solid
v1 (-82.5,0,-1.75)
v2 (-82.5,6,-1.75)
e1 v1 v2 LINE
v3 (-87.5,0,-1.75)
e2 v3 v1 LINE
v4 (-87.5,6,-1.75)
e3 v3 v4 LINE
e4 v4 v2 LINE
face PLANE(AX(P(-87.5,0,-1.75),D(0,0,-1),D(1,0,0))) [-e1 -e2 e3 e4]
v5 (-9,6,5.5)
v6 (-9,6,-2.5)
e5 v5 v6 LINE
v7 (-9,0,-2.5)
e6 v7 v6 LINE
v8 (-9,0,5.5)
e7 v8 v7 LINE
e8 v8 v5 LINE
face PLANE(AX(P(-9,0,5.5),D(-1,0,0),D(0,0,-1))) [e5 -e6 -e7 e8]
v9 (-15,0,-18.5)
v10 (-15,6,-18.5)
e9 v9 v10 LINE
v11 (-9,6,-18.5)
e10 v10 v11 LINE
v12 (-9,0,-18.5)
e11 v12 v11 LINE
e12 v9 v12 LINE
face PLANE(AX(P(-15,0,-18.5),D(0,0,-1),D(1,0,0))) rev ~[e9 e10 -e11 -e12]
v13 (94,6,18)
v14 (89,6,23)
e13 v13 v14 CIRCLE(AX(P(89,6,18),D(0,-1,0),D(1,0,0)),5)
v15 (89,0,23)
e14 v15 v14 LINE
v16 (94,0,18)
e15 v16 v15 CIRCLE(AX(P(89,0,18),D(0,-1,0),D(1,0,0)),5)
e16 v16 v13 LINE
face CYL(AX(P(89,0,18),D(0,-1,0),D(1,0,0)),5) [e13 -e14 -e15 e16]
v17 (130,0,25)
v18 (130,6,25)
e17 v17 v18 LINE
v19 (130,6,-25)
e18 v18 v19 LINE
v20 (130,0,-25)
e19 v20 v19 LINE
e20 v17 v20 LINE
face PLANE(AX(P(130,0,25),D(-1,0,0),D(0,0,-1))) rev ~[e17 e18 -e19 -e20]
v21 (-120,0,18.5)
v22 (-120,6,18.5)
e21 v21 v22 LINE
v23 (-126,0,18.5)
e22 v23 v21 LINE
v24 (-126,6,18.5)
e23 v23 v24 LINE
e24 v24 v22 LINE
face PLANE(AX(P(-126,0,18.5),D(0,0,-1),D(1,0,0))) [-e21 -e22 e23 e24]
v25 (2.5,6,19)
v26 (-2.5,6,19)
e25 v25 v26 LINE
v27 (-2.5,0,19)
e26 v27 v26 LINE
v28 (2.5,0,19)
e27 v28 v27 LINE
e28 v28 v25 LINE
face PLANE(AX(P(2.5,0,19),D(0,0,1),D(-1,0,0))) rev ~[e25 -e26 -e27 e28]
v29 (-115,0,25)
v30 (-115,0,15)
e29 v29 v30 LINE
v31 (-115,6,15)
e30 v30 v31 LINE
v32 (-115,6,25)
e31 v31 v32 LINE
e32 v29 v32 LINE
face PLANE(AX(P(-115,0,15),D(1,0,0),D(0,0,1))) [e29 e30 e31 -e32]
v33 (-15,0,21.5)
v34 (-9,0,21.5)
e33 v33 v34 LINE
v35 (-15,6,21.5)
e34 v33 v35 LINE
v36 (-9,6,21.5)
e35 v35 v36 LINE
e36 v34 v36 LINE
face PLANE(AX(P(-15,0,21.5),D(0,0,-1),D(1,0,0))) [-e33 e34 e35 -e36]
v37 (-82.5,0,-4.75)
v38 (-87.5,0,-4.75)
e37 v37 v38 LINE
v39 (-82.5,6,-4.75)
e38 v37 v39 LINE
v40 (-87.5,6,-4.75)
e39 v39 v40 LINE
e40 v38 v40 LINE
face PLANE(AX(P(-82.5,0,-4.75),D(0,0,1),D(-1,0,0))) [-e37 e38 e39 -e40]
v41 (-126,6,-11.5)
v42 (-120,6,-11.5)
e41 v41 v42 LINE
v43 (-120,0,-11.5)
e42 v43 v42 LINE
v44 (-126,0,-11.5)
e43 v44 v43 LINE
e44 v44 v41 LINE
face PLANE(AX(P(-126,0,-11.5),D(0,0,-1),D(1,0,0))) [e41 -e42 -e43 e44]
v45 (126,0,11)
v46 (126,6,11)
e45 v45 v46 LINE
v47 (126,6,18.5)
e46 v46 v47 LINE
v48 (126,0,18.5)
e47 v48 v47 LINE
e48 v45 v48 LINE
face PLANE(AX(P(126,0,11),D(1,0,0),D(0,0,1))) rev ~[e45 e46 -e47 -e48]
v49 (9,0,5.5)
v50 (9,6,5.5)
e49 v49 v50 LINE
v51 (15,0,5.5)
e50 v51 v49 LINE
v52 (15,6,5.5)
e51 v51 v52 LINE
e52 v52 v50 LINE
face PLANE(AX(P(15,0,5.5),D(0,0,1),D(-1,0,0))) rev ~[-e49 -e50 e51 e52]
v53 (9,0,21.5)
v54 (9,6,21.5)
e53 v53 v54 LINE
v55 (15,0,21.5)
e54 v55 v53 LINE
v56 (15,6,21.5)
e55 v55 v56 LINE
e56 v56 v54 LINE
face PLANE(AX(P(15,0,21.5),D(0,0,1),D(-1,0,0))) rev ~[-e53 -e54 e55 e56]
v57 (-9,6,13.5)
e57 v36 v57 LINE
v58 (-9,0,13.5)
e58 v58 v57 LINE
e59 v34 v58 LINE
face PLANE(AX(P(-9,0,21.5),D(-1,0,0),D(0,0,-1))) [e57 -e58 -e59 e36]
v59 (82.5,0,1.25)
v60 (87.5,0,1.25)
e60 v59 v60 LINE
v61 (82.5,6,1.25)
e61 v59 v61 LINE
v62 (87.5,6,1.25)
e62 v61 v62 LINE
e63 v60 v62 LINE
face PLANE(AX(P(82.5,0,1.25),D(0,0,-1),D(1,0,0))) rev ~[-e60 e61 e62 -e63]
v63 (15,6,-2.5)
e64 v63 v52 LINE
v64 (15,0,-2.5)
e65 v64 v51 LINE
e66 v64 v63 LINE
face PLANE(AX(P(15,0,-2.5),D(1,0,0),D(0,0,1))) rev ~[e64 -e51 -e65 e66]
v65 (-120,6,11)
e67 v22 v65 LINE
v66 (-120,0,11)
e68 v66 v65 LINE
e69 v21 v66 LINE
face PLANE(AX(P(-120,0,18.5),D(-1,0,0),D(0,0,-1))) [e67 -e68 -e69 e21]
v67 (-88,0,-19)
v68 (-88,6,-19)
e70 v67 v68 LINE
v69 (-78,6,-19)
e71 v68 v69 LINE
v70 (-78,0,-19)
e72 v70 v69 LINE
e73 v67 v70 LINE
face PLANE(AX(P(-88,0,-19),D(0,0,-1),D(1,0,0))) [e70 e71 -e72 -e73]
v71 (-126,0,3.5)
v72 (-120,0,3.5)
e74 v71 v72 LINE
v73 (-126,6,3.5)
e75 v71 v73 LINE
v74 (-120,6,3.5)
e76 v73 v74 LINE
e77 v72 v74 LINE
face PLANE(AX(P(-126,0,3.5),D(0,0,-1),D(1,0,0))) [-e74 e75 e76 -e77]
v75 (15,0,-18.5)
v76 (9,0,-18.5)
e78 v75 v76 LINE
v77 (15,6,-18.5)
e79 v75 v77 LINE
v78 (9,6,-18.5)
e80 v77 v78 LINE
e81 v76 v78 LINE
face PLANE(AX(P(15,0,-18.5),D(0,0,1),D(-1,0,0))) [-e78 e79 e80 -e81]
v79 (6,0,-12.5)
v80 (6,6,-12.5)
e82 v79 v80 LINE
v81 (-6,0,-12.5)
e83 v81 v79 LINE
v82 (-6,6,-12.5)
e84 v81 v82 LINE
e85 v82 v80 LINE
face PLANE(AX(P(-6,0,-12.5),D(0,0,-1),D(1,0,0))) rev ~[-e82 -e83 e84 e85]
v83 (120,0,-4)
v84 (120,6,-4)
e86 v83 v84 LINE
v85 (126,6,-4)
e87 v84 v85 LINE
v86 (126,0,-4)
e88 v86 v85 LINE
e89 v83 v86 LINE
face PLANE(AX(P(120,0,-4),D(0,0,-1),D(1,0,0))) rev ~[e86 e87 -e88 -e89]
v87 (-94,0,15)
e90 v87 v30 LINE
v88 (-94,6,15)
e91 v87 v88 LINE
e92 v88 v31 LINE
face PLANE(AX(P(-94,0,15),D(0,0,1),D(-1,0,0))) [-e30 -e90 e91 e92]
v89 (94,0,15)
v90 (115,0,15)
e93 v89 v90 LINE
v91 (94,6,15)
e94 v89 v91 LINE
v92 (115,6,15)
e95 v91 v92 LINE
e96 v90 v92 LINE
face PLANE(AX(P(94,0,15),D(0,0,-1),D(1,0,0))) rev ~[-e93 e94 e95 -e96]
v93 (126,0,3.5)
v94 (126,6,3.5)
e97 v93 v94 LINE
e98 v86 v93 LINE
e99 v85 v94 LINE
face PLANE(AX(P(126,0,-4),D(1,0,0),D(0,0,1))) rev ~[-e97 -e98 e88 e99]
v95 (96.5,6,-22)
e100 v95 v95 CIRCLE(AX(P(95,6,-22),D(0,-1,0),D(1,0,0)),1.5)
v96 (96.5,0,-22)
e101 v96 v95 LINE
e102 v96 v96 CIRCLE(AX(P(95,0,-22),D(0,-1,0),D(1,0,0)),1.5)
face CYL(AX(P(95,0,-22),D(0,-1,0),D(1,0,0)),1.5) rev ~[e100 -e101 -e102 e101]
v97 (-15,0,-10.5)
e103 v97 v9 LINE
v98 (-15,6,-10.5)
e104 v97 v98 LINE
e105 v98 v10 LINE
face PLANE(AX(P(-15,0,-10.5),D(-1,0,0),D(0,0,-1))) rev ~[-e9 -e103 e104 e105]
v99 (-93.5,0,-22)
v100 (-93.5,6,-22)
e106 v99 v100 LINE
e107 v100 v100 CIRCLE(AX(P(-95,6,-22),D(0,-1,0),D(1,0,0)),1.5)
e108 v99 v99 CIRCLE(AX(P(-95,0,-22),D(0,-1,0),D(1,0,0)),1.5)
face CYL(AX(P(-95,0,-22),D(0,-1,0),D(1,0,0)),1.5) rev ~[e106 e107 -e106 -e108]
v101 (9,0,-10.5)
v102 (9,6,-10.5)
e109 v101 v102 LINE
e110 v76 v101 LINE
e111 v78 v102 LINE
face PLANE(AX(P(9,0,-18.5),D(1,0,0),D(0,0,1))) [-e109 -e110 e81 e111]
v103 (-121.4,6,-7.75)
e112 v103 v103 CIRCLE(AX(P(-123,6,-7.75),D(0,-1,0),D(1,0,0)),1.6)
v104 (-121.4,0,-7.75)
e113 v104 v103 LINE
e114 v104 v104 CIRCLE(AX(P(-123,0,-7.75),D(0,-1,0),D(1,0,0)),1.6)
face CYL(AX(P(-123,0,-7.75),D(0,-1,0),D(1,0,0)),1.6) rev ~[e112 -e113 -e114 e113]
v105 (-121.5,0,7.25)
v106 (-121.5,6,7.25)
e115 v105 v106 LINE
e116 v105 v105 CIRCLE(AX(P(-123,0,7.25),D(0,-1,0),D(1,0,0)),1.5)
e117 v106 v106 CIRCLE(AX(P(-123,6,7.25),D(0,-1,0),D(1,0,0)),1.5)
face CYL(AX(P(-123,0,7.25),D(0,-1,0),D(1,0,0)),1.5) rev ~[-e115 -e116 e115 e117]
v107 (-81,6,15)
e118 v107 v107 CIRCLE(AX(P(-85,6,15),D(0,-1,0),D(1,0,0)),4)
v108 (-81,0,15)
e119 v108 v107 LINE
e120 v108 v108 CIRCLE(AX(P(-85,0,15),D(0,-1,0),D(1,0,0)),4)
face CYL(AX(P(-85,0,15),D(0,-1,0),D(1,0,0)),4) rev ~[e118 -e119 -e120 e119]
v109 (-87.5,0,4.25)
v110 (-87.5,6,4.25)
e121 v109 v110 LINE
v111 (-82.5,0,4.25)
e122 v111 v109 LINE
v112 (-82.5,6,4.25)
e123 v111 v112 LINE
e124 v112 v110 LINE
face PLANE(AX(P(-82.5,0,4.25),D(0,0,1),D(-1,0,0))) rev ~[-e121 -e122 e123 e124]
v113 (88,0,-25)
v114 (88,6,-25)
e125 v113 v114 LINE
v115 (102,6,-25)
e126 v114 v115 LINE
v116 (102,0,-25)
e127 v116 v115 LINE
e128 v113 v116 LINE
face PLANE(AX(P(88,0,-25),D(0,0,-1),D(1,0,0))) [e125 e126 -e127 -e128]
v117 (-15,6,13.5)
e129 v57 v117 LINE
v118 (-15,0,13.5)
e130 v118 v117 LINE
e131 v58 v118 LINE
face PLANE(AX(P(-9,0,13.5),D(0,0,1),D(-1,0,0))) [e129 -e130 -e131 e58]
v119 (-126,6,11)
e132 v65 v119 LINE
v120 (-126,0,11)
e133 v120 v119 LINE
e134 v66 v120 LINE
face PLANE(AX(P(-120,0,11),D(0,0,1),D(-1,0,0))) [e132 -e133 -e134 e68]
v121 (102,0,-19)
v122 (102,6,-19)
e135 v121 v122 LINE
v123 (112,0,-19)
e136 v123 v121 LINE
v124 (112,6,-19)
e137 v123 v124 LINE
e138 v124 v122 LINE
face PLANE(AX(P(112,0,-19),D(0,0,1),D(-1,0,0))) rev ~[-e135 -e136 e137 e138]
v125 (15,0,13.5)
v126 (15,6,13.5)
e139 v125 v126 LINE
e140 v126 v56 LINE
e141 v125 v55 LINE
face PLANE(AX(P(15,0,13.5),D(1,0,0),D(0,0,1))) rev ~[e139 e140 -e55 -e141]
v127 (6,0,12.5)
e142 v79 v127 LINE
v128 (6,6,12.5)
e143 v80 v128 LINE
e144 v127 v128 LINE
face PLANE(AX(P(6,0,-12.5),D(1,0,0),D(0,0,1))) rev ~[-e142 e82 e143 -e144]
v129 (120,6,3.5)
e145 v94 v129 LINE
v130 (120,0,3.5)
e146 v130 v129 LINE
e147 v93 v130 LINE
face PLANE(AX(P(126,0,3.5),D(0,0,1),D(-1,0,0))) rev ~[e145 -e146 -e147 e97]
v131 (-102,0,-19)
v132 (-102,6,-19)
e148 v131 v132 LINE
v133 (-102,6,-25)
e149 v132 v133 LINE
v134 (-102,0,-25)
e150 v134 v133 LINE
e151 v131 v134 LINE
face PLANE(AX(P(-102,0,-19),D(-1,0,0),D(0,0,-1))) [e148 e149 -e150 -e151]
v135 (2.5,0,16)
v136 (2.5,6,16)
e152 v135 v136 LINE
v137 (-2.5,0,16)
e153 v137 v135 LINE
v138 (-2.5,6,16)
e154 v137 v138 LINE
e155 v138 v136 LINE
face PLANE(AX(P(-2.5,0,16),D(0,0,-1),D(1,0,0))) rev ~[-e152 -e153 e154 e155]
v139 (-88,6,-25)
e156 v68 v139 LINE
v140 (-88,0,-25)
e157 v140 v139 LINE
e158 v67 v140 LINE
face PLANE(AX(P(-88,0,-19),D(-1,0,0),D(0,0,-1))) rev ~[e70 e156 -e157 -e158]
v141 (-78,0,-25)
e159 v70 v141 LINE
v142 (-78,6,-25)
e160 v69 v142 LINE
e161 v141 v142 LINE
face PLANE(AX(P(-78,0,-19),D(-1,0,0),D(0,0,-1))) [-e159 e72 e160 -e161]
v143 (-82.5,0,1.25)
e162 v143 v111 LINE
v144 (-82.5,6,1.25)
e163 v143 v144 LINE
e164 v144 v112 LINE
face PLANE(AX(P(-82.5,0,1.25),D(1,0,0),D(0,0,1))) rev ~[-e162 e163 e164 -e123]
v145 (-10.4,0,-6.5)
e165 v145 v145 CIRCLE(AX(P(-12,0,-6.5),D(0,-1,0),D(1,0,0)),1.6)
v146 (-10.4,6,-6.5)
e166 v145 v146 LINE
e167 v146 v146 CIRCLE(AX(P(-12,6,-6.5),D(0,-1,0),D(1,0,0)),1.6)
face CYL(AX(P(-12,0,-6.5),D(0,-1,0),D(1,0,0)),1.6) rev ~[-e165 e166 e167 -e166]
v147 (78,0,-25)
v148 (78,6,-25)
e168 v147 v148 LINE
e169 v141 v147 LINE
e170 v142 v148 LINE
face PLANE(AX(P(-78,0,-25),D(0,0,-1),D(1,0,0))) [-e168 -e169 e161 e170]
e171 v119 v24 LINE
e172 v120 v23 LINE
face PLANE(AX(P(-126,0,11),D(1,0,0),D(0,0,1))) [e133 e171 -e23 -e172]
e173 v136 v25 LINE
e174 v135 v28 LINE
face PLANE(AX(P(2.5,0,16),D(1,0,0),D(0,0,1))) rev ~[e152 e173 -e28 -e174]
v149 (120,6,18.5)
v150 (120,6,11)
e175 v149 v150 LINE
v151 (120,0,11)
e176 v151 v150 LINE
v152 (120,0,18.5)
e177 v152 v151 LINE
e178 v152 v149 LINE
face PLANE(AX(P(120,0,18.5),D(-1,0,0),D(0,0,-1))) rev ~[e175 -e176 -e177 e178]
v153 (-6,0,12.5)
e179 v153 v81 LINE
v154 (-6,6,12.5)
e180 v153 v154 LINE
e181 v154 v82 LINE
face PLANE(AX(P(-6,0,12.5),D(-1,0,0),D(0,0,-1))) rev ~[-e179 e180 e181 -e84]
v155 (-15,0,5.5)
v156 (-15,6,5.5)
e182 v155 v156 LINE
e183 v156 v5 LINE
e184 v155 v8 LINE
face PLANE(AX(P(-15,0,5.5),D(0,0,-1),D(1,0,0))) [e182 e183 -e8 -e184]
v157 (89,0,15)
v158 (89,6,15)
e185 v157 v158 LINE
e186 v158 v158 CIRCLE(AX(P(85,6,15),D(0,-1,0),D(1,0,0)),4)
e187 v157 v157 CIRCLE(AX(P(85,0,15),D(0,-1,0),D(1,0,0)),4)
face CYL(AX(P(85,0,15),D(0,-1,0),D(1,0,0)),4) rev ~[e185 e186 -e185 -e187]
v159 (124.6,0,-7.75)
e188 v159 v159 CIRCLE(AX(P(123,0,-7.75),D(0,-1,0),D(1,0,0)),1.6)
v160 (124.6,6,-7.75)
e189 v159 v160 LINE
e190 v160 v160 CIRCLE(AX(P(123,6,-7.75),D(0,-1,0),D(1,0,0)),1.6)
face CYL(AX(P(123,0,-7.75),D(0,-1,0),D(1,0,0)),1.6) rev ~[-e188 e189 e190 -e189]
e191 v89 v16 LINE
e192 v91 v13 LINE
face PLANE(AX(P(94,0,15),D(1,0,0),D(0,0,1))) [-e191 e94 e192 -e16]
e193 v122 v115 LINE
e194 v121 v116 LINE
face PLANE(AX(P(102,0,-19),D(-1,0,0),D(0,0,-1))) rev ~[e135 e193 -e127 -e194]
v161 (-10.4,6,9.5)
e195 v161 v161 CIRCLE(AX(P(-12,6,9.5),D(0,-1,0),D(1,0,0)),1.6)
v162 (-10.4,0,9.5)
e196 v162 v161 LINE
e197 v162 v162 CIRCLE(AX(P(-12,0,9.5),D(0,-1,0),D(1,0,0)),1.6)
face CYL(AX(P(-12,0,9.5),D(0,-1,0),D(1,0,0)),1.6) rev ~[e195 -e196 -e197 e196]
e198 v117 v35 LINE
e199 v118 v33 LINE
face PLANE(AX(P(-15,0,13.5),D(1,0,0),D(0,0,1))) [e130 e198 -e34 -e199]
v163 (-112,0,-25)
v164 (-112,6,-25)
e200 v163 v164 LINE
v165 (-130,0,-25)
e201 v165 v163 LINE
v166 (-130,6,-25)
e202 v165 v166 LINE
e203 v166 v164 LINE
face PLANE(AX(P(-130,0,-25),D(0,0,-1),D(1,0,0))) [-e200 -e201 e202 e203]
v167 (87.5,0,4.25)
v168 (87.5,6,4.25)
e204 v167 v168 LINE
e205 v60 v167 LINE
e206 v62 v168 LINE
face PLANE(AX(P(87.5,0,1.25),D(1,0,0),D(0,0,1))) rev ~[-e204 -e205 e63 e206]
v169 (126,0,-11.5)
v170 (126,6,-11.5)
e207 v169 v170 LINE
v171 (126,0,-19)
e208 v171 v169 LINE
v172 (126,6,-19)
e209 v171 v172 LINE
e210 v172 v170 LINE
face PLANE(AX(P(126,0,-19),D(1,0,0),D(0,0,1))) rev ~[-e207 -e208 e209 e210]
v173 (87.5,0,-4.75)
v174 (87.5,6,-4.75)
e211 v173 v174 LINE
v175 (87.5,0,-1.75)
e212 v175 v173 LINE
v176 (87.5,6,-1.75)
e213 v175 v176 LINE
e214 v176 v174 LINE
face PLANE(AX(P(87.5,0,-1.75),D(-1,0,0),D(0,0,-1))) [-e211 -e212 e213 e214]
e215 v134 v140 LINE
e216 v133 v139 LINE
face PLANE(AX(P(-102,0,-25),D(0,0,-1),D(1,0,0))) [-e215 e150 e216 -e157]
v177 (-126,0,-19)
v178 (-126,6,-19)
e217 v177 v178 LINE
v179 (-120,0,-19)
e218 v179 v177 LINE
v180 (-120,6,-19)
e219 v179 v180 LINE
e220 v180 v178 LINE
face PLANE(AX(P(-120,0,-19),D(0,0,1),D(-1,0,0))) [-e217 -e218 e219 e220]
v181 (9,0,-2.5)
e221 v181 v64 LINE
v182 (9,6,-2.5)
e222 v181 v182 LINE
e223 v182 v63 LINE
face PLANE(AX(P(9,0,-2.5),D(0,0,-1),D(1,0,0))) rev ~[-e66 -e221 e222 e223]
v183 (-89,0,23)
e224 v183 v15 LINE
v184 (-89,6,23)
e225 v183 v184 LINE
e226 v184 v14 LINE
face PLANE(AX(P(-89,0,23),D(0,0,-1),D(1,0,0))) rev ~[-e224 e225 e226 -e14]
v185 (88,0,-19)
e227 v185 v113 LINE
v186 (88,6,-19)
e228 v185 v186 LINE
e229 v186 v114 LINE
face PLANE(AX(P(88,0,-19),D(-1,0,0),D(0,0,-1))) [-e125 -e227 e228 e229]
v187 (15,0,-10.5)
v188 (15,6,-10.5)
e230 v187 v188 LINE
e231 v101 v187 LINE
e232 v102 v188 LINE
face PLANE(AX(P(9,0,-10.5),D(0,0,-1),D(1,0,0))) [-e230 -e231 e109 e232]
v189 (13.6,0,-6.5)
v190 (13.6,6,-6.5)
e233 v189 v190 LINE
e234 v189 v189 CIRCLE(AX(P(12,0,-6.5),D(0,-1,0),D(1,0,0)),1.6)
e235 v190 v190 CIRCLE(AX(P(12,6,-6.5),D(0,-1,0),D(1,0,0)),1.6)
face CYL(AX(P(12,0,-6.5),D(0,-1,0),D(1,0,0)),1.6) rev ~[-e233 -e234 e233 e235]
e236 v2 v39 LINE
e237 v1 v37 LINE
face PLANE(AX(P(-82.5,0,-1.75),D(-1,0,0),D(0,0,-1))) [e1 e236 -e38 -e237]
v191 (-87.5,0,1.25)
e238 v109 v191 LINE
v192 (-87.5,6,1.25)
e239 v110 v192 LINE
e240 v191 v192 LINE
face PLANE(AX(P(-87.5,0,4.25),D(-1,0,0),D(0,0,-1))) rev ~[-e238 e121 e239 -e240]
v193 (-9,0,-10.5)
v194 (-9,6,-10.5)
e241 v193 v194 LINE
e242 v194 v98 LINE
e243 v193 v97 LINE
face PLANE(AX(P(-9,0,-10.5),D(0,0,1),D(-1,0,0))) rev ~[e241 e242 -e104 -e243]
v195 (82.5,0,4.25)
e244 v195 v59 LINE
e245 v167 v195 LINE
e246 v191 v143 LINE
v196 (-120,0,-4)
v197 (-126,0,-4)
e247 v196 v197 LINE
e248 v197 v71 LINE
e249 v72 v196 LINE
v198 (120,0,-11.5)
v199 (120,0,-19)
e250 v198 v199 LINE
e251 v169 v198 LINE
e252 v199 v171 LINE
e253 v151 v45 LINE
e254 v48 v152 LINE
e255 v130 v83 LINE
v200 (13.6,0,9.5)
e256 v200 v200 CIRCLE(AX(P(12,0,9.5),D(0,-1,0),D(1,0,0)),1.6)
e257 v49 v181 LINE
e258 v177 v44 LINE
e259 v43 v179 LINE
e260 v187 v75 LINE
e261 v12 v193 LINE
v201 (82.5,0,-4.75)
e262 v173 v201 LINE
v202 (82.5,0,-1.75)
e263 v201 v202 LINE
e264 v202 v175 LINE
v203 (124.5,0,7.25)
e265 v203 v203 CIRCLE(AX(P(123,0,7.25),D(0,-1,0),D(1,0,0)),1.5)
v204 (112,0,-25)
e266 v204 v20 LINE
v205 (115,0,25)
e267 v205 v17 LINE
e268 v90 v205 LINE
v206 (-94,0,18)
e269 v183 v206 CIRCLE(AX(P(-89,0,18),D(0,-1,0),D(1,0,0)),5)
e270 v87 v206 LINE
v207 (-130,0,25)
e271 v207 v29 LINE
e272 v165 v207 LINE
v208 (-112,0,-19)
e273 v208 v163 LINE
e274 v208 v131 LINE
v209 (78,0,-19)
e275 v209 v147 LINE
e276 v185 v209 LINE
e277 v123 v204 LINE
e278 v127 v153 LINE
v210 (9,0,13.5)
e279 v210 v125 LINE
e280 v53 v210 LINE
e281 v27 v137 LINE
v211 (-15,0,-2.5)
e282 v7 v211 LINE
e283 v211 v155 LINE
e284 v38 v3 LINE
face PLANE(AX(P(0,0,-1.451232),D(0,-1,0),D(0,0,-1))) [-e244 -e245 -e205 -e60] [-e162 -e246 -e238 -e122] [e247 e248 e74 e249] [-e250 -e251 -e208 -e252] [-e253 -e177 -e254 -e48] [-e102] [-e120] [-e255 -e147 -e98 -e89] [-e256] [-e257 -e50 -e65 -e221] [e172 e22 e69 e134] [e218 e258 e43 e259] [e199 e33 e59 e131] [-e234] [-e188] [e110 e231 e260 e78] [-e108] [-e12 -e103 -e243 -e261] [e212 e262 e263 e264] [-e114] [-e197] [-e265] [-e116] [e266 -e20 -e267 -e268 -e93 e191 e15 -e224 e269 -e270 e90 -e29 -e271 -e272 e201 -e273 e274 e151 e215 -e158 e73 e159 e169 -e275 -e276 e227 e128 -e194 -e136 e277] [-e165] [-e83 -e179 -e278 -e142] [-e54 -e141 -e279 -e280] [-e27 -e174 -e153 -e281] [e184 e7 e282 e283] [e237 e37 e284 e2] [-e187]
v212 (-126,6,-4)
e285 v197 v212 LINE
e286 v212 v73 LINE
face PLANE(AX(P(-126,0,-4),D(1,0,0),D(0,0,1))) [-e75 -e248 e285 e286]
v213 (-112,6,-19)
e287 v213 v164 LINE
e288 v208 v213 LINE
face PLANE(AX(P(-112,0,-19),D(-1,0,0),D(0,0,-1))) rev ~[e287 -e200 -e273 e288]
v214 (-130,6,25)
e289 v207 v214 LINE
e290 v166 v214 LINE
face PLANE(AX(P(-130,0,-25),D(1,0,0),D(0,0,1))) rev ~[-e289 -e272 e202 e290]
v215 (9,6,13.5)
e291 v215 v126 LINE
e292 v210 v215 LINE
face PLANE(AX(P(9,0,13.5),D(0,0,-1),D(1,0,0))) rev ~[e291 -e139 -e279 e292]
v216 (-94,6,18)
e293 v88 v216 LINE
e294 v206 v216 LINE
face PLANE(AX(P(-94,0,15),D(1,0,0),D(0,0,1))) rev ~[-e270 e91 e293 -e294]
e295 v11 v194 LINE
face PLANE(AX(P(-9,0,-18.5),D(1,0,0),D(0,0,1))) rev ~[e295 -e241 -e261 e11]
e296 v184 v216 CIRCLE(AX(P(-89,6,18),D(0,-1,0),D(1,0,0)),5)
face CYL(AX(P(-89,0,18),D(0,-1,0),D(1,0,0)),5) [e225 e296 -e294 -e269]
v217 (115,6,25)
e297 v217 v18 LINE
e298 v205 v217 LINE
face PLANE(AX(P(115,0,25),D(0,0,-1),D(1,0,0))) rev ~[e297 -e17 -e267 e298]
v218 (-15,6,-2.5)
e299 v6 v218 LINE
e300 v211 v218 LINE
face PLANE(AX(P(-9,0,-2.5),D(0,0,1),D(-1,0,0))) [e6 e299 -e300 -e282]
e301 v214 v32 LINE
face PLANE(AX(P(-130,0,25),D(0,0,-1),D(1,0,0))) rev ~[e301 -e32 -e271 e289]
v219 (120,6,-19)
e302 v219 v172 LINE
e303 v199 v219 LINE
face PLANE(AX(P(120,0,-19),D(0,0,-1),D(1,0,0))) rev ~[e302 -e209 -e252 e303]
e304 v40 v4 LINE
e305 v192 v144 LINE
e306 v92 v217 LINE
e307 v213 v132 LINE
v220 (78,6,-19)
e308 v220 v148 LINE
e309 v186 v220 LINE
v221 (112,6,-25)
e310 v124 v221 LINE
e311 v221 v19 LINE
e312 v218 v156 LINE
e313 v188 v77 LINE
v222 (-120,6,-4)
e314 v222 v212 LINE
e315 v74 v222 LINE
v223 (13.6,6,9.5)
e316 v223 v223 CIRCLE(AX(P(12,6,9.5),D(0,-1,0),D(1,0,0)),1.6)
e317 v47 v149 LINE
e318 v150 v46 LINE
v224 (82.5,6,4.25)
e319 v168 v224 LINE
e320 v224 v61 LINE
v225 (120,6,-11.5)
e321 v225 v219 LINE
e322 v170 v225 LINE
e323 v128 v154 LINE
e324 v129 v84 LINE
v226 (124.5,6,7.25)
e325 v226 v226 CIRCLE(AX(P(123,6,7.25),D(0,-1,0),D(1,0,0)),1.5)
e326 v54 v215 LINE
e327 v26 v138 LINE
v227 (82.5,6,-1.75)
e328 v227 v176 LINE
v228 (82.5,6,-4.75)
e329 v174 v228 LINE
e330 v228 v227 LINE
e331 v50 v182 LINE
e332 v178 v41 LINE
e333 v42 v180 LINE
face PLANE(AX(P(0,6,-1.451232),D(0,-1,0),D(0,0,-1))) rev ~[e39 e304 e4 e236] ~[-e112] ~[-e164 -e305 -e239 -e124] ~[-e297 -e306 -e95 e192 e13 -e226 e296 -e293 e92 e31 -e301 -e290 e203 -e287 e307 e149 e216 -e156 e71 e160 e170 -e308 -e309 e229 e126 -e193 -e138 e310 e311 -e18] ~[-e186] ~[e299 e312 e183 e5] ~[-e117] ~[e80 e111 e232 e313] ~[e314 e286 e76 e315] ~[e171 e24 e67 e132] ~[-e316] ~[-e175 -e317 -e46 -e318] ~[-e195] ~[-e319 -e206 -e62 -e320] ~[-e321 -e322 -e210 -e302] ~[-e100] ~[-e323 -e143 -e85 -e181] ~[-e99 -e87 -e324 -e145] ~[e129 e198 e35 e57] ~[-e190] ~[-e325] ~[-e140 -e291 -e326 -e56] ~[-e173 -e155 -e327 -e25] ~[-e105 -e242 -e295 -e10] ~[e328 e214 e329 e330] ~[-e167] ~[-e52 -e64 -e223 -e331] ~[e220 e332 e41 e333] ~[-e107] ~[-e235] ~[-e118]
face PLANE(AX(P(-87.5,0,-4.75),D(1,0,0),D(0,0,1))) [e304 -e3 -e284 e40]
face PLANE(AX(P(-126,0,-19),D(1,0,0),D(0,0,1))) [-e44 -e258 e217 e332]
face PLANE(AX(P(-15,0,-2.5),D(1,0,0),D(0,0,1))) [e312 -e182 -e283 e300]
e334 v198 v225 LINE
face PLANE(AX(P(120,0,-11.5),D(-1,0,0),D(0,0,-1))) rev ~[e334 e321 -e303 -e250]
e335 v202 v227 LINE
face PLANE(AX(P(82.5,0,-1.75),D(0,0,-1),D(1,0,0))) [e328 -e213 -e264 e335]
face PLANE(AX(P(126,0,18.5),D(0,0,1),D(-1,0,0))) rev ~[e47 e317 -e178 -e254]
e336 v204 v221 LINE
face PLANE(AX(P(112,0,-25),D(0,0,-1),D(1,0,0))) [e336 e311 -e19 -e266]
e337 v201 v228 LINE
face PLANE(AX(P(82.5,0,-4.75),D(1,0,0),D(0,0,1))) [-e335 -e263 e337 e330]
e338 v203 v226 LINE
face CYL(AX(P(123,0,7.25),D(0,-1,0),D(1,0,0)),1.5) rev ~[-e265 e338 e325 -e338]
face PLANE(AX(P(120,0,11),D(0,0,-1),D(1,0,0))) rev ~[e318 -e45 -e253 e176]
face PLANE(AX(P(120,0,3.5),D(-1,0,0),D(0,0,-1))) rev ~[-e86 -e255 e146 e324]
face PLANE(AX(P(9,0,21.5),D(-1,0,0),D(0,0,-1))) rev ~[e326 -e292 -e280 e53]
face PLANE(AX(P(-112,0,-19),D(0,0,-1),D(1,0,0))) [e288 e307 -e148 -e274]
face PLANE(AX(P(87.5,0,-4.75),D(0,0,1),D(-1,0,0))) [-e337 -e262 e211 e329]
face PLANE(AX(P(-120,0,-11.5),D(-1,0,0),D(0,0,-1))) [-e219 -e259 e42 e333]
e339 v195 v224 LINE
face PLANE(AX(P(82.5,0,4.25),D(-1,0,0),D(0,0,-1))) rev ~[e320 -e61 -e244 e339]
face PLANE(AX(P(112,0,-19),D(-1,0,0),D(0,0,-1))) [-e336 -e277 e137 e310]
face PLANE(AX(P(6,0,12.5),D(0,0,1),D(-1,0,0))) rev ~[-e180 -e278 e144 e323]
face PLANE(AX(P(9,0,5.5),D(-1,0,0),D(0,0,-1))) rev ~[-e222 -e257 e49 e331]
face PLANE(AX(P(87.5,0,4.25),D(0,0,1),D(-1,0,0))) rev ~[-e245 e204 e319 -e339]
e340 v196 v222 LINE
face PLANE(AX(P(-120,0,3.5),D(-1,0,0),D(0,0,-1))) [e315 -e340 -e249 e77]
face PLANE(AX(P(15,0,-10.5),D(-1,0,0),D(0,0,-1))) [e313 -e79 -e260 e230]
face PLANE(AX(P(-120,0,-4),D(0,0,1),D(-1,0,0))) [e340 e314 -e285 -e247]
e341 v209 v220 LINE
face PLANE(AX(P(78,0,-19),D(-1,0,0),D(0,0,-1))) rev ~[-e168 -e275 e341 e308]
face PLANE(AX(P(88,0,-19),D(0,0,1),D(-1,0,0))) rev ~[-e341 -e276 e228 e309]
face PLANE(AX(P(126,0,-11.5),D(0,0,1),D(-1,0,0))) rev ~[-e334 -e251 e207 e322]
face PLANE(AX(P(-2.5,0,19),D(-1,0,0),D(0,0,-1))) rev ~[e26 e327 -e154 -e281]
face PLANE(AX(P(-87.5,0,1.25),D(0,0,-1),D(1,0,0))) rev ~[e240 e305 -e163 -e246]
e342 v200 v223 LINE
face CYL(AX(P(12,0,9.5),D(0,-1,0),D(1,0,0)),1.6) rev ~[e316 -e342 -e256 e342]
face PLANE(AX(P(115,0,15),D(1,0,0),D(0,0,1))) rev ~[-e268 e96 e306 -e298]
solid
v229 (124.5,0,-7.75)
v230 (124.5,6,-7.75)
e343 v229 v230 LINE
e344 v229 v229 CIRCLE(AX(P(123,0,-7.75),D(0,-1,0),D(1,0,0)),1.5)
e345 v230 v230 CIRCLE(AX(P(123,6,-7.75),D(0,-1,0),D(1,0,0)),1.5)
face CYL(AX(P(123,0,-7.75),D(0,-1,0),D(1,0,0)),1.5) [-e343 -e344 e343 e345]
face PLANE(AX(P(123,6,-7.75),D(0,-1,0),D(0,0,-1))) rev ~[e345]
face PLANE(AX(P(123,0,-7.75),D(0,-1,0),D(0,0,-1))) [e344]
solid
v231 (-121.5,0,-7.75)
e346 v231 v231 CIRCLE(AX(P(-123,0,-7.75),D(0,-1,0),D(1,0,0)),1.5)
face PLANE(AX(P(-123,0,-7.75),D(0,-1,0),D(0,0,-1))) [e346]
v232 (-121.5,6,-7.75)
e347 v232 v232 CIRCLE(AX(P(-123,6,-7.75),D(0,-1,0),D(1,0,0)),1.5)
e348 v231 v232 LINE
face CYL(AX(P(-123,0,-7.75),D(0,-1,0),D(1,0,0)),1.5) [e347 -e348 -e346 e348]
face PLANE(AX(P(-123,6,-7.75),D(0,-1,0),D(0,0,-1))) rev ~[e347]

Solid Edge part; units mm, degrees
sketch "Sketch1" plane through (0, 0, 0) normal (0, -1, 0) x (1, 0, 0)
  circle A0 centre (85, 15) radius 4
  circle A1 centre (-85, 15) radius 4
  line L0 (-6, -12.5) -> (6, -12.5)
  line L1 (6, -12.5) -> (6, 12.5)
  line L2 (6, 12.5) -> (-6, 12.5)
  line L3 (-6, 12.5) -> (-6, -12.5)
  line L4 (-9, -2.5) -> (-15, -2.5)
  line L5 (-15, -2.5) -> (-15, 5.5)
  line L6 (-15, 5.5) -> (-9, 5.5)
  line L7 (-9, 5.5) -> (-9, -2.5)
  line L8 (9, -2.5) -> (15, -2.5)
  line L9 (15, -2.5) -> (15, 5.5)
  line L10 (15, 5.5) -> (9, 5.5)
  line L11 (9, 5.5) -> (9, -2.5)
  line L12 (9, 13.5) -> (15, 13.5)
  line L13 (15, 13.5) -> (15, 21.5)
  line L14 (15, 21.5) -> (9, 21.5)
  line L15 (9, 21.5) -> (9, 13.5)
  line L16 (-9, 13.5) -> (-15, 13.5)
  line L17 (-15, 13.5) -> (-15, 21.5)
  line L18 (-15, 21.5) -> (-9, 21.5)
  line L19 (-9, 21.5) -> (-9, 13.5)
  line L20 (9, -10.5) -> (15, -10.5)
  line L21 (15, -10.5) -> (15, -18.5)
  line L22 (15, -18.5) -> (9, -18.5)
  line L23 (9, -18.5) -> (9, -10.5)
  line L24 (-9, -10.5) -> (-15, -10.5)
  line L25 (-15, -10.5) -> (-15, -18.5)
  line L26 (-15, -18.5) -> (-9, -18.5)
  line L27 (-9, -18.5) -> (-9, -10.5)
  circle A2 centre (12, 9.5) radius 1.6
  circle A3 centre (12, -6.5) radius 1.6
  circle A4 centre (-12, 9.5) radius 1.6
  circle A5 centre (-12, -6.5) radius 1.6
  line L28 (-120, -4) -> (-126, -4)
  line L29 (-126, -4) -> (-126, 3.5)
  line L30 (-126, 3.5) -> (-120, 3.5)
  line L31 (-120, 3.5) -> (-120, -4)
  line L32 (-120, 11) -> (-126, 11)
  line L33 (-126, 11) -> (-126, 18.5)
  line L34 (-126, 18.5) -> (-120, 18.5)
  line L35 (-120, 18.5) -> (-120, 11)
  line L36 (-120, -19) -> (-126, -19)
  line L37 (-126, -19) -> (-126, -11.5)
  line L38 (-126, -11.5) -> (-120, -11.5)
  line L39 (-120, -11.5) -> (-120, -19)
  circle A6 centre (-123, 7.25) radius 1.5
  circle A7 centre (-123, -7.75) radius 1.6
  circle A8 centre (-123, -7.75) radius 1.5
  line L40 (120, -4) -> (126, -4)
  line L41 (126, -4) -> (126, 3.5)
  line L42 (126, 3.5) -> (120, 3.5)
  line L43 (120, 3.5) -> (120, -4)
  line L44 (120, 11) -> (126, 11)
  line L45 (126, 11) -> (126, 18.5)
  line L46 (126, 18.5) -> (120, 18.5)
  line L47 (120, 18.5) -> (120, 11)
  line L48 (120, -19) -> (126, -19)
  line L49 (126, -19) -> (126, -11.5)
  line L50 (126, -11.5) -> (120, -11.5)
  line L51 (120, -11.5) -> (120, -19)
  circle A9 centre (123, 7.25) radius 1.5
  circle A10 centre (123, -7.75) radius 1.6
  circle A11 centre (123, -7.75) radius 1.5
  line L52 (-2.5, 16) -> (2.5, 16)
  line L53 (2.5, 16) -> (2.5, 19)
  line L54 (2.5, 19) -> (-2.5, 19)
  line L55 (-2.5, 19) -> (-2.5, 16)
  line L56 (-78, -25) -> (78, -25)
  line L57 (78, -19) -> (78, -25)
  line L58 (88, -19) -> (78, -19)
  line L59 (88, -19) -> (88, -25)
  line L60 (88, -25) -> (102, -25)
  line L61 (102, -19) -> (102, -25)
  line L62 (112, -19) -> (102, -19)
  line L63 (112, -19) -> (112, -25)
  line L64 (112, -25) -> (130, -25)
  line L65 (130, 25) -> (130, -25)
  line L66 (115, 25) -> (130, 25)
  line L67 (115, 15) -> (115, 25)
  line L68 (94, 15) -> (115, 15)
  line L69 (94, 15) -> (94, 18)
  arc A12 (94, 18) -> (89, 23) centre (89, 18) ccw
  line L70 (-89, 23) -> (89, 23)
  arc A13 (-89, 23) -> (-94, 18) centre (-89, 18) ccw
  line L71 (-94, 15) -> (-94, 18)
  line L72 (-94, 15) -> (-115, 15)
  line L73 (-115, 15) -> (-115, 23)
  line L74 (-115, 25) -> (-115, 23)
  line L75 (-130, 25) -> (-115, 25)
  line L76 (-130, -25) -> (-130, 25)
  line L77 (-130, -25) -> (-112, -25)
  line L78 (-112, -19) -> (-112, -25)
  line L79 (-112, -19) -> (-102, -19)
  line L80 (-102, -19) -> (-102, -25)
  line L81 (-102, -25) -> (-88, -25)
  line L82 (-88, -19) -> (-88, -25)
  line L83 (-88, -19) -> (-78, -19)
  line L84 (-78, -19) -> (-78, -25)
  circle A14 centre (95, -22) radius 1.5
  circle A15 centre (-95, -22) radius 1.5
  line L85 (-87.5, 1.25) -> (-82.5, 1.25)
  line L86 (-82.5, 1.25) -> (-82.5, 4.25)
  line L87 (-82.5, 4.25) -> (-87.5, 4.25)
  line L88 (-87.5, 4.25) -> (-87.5, 1.25)
  line L89 (-87.5, -1.75) -> (-82.5, -1.75)
  line L90 (-82.5, -1.75) -> (-82.5, -4.75)
  line L91 (-82.5, -4.75) -> (-87.5, -4.75)
  line L92 (-87.5, -4.75) -> (-87.5, -1.75)
  line L93 (82.5, 1.25) -> (87.5, 1.25)
  line L94 (87.5, 1.25) -> (87.5, 4.25)
  line L95 (87.5, 4.25) -> (82.5, 4.25)
  line L96 (82.5, 4.25) -> (82.5, 1.25)
  line L97 (82.5, -1.75) -> (87.5, -1.75)
  line L98 (87.5, -1.75) -> (87.5, -4.75)
  line L99 (87.5, -4.75) -> (82.5, -4.75)
  line L100 (82.5, -4.75) -> (82.5, -1.75)
  dimension "D1" = 6
  dimension "D2" = 6
  dimension "D3" = 6
  dimension "D4" = 8
extrude "Protrusion1" add sketch "Sketch1" against normal blind 6
